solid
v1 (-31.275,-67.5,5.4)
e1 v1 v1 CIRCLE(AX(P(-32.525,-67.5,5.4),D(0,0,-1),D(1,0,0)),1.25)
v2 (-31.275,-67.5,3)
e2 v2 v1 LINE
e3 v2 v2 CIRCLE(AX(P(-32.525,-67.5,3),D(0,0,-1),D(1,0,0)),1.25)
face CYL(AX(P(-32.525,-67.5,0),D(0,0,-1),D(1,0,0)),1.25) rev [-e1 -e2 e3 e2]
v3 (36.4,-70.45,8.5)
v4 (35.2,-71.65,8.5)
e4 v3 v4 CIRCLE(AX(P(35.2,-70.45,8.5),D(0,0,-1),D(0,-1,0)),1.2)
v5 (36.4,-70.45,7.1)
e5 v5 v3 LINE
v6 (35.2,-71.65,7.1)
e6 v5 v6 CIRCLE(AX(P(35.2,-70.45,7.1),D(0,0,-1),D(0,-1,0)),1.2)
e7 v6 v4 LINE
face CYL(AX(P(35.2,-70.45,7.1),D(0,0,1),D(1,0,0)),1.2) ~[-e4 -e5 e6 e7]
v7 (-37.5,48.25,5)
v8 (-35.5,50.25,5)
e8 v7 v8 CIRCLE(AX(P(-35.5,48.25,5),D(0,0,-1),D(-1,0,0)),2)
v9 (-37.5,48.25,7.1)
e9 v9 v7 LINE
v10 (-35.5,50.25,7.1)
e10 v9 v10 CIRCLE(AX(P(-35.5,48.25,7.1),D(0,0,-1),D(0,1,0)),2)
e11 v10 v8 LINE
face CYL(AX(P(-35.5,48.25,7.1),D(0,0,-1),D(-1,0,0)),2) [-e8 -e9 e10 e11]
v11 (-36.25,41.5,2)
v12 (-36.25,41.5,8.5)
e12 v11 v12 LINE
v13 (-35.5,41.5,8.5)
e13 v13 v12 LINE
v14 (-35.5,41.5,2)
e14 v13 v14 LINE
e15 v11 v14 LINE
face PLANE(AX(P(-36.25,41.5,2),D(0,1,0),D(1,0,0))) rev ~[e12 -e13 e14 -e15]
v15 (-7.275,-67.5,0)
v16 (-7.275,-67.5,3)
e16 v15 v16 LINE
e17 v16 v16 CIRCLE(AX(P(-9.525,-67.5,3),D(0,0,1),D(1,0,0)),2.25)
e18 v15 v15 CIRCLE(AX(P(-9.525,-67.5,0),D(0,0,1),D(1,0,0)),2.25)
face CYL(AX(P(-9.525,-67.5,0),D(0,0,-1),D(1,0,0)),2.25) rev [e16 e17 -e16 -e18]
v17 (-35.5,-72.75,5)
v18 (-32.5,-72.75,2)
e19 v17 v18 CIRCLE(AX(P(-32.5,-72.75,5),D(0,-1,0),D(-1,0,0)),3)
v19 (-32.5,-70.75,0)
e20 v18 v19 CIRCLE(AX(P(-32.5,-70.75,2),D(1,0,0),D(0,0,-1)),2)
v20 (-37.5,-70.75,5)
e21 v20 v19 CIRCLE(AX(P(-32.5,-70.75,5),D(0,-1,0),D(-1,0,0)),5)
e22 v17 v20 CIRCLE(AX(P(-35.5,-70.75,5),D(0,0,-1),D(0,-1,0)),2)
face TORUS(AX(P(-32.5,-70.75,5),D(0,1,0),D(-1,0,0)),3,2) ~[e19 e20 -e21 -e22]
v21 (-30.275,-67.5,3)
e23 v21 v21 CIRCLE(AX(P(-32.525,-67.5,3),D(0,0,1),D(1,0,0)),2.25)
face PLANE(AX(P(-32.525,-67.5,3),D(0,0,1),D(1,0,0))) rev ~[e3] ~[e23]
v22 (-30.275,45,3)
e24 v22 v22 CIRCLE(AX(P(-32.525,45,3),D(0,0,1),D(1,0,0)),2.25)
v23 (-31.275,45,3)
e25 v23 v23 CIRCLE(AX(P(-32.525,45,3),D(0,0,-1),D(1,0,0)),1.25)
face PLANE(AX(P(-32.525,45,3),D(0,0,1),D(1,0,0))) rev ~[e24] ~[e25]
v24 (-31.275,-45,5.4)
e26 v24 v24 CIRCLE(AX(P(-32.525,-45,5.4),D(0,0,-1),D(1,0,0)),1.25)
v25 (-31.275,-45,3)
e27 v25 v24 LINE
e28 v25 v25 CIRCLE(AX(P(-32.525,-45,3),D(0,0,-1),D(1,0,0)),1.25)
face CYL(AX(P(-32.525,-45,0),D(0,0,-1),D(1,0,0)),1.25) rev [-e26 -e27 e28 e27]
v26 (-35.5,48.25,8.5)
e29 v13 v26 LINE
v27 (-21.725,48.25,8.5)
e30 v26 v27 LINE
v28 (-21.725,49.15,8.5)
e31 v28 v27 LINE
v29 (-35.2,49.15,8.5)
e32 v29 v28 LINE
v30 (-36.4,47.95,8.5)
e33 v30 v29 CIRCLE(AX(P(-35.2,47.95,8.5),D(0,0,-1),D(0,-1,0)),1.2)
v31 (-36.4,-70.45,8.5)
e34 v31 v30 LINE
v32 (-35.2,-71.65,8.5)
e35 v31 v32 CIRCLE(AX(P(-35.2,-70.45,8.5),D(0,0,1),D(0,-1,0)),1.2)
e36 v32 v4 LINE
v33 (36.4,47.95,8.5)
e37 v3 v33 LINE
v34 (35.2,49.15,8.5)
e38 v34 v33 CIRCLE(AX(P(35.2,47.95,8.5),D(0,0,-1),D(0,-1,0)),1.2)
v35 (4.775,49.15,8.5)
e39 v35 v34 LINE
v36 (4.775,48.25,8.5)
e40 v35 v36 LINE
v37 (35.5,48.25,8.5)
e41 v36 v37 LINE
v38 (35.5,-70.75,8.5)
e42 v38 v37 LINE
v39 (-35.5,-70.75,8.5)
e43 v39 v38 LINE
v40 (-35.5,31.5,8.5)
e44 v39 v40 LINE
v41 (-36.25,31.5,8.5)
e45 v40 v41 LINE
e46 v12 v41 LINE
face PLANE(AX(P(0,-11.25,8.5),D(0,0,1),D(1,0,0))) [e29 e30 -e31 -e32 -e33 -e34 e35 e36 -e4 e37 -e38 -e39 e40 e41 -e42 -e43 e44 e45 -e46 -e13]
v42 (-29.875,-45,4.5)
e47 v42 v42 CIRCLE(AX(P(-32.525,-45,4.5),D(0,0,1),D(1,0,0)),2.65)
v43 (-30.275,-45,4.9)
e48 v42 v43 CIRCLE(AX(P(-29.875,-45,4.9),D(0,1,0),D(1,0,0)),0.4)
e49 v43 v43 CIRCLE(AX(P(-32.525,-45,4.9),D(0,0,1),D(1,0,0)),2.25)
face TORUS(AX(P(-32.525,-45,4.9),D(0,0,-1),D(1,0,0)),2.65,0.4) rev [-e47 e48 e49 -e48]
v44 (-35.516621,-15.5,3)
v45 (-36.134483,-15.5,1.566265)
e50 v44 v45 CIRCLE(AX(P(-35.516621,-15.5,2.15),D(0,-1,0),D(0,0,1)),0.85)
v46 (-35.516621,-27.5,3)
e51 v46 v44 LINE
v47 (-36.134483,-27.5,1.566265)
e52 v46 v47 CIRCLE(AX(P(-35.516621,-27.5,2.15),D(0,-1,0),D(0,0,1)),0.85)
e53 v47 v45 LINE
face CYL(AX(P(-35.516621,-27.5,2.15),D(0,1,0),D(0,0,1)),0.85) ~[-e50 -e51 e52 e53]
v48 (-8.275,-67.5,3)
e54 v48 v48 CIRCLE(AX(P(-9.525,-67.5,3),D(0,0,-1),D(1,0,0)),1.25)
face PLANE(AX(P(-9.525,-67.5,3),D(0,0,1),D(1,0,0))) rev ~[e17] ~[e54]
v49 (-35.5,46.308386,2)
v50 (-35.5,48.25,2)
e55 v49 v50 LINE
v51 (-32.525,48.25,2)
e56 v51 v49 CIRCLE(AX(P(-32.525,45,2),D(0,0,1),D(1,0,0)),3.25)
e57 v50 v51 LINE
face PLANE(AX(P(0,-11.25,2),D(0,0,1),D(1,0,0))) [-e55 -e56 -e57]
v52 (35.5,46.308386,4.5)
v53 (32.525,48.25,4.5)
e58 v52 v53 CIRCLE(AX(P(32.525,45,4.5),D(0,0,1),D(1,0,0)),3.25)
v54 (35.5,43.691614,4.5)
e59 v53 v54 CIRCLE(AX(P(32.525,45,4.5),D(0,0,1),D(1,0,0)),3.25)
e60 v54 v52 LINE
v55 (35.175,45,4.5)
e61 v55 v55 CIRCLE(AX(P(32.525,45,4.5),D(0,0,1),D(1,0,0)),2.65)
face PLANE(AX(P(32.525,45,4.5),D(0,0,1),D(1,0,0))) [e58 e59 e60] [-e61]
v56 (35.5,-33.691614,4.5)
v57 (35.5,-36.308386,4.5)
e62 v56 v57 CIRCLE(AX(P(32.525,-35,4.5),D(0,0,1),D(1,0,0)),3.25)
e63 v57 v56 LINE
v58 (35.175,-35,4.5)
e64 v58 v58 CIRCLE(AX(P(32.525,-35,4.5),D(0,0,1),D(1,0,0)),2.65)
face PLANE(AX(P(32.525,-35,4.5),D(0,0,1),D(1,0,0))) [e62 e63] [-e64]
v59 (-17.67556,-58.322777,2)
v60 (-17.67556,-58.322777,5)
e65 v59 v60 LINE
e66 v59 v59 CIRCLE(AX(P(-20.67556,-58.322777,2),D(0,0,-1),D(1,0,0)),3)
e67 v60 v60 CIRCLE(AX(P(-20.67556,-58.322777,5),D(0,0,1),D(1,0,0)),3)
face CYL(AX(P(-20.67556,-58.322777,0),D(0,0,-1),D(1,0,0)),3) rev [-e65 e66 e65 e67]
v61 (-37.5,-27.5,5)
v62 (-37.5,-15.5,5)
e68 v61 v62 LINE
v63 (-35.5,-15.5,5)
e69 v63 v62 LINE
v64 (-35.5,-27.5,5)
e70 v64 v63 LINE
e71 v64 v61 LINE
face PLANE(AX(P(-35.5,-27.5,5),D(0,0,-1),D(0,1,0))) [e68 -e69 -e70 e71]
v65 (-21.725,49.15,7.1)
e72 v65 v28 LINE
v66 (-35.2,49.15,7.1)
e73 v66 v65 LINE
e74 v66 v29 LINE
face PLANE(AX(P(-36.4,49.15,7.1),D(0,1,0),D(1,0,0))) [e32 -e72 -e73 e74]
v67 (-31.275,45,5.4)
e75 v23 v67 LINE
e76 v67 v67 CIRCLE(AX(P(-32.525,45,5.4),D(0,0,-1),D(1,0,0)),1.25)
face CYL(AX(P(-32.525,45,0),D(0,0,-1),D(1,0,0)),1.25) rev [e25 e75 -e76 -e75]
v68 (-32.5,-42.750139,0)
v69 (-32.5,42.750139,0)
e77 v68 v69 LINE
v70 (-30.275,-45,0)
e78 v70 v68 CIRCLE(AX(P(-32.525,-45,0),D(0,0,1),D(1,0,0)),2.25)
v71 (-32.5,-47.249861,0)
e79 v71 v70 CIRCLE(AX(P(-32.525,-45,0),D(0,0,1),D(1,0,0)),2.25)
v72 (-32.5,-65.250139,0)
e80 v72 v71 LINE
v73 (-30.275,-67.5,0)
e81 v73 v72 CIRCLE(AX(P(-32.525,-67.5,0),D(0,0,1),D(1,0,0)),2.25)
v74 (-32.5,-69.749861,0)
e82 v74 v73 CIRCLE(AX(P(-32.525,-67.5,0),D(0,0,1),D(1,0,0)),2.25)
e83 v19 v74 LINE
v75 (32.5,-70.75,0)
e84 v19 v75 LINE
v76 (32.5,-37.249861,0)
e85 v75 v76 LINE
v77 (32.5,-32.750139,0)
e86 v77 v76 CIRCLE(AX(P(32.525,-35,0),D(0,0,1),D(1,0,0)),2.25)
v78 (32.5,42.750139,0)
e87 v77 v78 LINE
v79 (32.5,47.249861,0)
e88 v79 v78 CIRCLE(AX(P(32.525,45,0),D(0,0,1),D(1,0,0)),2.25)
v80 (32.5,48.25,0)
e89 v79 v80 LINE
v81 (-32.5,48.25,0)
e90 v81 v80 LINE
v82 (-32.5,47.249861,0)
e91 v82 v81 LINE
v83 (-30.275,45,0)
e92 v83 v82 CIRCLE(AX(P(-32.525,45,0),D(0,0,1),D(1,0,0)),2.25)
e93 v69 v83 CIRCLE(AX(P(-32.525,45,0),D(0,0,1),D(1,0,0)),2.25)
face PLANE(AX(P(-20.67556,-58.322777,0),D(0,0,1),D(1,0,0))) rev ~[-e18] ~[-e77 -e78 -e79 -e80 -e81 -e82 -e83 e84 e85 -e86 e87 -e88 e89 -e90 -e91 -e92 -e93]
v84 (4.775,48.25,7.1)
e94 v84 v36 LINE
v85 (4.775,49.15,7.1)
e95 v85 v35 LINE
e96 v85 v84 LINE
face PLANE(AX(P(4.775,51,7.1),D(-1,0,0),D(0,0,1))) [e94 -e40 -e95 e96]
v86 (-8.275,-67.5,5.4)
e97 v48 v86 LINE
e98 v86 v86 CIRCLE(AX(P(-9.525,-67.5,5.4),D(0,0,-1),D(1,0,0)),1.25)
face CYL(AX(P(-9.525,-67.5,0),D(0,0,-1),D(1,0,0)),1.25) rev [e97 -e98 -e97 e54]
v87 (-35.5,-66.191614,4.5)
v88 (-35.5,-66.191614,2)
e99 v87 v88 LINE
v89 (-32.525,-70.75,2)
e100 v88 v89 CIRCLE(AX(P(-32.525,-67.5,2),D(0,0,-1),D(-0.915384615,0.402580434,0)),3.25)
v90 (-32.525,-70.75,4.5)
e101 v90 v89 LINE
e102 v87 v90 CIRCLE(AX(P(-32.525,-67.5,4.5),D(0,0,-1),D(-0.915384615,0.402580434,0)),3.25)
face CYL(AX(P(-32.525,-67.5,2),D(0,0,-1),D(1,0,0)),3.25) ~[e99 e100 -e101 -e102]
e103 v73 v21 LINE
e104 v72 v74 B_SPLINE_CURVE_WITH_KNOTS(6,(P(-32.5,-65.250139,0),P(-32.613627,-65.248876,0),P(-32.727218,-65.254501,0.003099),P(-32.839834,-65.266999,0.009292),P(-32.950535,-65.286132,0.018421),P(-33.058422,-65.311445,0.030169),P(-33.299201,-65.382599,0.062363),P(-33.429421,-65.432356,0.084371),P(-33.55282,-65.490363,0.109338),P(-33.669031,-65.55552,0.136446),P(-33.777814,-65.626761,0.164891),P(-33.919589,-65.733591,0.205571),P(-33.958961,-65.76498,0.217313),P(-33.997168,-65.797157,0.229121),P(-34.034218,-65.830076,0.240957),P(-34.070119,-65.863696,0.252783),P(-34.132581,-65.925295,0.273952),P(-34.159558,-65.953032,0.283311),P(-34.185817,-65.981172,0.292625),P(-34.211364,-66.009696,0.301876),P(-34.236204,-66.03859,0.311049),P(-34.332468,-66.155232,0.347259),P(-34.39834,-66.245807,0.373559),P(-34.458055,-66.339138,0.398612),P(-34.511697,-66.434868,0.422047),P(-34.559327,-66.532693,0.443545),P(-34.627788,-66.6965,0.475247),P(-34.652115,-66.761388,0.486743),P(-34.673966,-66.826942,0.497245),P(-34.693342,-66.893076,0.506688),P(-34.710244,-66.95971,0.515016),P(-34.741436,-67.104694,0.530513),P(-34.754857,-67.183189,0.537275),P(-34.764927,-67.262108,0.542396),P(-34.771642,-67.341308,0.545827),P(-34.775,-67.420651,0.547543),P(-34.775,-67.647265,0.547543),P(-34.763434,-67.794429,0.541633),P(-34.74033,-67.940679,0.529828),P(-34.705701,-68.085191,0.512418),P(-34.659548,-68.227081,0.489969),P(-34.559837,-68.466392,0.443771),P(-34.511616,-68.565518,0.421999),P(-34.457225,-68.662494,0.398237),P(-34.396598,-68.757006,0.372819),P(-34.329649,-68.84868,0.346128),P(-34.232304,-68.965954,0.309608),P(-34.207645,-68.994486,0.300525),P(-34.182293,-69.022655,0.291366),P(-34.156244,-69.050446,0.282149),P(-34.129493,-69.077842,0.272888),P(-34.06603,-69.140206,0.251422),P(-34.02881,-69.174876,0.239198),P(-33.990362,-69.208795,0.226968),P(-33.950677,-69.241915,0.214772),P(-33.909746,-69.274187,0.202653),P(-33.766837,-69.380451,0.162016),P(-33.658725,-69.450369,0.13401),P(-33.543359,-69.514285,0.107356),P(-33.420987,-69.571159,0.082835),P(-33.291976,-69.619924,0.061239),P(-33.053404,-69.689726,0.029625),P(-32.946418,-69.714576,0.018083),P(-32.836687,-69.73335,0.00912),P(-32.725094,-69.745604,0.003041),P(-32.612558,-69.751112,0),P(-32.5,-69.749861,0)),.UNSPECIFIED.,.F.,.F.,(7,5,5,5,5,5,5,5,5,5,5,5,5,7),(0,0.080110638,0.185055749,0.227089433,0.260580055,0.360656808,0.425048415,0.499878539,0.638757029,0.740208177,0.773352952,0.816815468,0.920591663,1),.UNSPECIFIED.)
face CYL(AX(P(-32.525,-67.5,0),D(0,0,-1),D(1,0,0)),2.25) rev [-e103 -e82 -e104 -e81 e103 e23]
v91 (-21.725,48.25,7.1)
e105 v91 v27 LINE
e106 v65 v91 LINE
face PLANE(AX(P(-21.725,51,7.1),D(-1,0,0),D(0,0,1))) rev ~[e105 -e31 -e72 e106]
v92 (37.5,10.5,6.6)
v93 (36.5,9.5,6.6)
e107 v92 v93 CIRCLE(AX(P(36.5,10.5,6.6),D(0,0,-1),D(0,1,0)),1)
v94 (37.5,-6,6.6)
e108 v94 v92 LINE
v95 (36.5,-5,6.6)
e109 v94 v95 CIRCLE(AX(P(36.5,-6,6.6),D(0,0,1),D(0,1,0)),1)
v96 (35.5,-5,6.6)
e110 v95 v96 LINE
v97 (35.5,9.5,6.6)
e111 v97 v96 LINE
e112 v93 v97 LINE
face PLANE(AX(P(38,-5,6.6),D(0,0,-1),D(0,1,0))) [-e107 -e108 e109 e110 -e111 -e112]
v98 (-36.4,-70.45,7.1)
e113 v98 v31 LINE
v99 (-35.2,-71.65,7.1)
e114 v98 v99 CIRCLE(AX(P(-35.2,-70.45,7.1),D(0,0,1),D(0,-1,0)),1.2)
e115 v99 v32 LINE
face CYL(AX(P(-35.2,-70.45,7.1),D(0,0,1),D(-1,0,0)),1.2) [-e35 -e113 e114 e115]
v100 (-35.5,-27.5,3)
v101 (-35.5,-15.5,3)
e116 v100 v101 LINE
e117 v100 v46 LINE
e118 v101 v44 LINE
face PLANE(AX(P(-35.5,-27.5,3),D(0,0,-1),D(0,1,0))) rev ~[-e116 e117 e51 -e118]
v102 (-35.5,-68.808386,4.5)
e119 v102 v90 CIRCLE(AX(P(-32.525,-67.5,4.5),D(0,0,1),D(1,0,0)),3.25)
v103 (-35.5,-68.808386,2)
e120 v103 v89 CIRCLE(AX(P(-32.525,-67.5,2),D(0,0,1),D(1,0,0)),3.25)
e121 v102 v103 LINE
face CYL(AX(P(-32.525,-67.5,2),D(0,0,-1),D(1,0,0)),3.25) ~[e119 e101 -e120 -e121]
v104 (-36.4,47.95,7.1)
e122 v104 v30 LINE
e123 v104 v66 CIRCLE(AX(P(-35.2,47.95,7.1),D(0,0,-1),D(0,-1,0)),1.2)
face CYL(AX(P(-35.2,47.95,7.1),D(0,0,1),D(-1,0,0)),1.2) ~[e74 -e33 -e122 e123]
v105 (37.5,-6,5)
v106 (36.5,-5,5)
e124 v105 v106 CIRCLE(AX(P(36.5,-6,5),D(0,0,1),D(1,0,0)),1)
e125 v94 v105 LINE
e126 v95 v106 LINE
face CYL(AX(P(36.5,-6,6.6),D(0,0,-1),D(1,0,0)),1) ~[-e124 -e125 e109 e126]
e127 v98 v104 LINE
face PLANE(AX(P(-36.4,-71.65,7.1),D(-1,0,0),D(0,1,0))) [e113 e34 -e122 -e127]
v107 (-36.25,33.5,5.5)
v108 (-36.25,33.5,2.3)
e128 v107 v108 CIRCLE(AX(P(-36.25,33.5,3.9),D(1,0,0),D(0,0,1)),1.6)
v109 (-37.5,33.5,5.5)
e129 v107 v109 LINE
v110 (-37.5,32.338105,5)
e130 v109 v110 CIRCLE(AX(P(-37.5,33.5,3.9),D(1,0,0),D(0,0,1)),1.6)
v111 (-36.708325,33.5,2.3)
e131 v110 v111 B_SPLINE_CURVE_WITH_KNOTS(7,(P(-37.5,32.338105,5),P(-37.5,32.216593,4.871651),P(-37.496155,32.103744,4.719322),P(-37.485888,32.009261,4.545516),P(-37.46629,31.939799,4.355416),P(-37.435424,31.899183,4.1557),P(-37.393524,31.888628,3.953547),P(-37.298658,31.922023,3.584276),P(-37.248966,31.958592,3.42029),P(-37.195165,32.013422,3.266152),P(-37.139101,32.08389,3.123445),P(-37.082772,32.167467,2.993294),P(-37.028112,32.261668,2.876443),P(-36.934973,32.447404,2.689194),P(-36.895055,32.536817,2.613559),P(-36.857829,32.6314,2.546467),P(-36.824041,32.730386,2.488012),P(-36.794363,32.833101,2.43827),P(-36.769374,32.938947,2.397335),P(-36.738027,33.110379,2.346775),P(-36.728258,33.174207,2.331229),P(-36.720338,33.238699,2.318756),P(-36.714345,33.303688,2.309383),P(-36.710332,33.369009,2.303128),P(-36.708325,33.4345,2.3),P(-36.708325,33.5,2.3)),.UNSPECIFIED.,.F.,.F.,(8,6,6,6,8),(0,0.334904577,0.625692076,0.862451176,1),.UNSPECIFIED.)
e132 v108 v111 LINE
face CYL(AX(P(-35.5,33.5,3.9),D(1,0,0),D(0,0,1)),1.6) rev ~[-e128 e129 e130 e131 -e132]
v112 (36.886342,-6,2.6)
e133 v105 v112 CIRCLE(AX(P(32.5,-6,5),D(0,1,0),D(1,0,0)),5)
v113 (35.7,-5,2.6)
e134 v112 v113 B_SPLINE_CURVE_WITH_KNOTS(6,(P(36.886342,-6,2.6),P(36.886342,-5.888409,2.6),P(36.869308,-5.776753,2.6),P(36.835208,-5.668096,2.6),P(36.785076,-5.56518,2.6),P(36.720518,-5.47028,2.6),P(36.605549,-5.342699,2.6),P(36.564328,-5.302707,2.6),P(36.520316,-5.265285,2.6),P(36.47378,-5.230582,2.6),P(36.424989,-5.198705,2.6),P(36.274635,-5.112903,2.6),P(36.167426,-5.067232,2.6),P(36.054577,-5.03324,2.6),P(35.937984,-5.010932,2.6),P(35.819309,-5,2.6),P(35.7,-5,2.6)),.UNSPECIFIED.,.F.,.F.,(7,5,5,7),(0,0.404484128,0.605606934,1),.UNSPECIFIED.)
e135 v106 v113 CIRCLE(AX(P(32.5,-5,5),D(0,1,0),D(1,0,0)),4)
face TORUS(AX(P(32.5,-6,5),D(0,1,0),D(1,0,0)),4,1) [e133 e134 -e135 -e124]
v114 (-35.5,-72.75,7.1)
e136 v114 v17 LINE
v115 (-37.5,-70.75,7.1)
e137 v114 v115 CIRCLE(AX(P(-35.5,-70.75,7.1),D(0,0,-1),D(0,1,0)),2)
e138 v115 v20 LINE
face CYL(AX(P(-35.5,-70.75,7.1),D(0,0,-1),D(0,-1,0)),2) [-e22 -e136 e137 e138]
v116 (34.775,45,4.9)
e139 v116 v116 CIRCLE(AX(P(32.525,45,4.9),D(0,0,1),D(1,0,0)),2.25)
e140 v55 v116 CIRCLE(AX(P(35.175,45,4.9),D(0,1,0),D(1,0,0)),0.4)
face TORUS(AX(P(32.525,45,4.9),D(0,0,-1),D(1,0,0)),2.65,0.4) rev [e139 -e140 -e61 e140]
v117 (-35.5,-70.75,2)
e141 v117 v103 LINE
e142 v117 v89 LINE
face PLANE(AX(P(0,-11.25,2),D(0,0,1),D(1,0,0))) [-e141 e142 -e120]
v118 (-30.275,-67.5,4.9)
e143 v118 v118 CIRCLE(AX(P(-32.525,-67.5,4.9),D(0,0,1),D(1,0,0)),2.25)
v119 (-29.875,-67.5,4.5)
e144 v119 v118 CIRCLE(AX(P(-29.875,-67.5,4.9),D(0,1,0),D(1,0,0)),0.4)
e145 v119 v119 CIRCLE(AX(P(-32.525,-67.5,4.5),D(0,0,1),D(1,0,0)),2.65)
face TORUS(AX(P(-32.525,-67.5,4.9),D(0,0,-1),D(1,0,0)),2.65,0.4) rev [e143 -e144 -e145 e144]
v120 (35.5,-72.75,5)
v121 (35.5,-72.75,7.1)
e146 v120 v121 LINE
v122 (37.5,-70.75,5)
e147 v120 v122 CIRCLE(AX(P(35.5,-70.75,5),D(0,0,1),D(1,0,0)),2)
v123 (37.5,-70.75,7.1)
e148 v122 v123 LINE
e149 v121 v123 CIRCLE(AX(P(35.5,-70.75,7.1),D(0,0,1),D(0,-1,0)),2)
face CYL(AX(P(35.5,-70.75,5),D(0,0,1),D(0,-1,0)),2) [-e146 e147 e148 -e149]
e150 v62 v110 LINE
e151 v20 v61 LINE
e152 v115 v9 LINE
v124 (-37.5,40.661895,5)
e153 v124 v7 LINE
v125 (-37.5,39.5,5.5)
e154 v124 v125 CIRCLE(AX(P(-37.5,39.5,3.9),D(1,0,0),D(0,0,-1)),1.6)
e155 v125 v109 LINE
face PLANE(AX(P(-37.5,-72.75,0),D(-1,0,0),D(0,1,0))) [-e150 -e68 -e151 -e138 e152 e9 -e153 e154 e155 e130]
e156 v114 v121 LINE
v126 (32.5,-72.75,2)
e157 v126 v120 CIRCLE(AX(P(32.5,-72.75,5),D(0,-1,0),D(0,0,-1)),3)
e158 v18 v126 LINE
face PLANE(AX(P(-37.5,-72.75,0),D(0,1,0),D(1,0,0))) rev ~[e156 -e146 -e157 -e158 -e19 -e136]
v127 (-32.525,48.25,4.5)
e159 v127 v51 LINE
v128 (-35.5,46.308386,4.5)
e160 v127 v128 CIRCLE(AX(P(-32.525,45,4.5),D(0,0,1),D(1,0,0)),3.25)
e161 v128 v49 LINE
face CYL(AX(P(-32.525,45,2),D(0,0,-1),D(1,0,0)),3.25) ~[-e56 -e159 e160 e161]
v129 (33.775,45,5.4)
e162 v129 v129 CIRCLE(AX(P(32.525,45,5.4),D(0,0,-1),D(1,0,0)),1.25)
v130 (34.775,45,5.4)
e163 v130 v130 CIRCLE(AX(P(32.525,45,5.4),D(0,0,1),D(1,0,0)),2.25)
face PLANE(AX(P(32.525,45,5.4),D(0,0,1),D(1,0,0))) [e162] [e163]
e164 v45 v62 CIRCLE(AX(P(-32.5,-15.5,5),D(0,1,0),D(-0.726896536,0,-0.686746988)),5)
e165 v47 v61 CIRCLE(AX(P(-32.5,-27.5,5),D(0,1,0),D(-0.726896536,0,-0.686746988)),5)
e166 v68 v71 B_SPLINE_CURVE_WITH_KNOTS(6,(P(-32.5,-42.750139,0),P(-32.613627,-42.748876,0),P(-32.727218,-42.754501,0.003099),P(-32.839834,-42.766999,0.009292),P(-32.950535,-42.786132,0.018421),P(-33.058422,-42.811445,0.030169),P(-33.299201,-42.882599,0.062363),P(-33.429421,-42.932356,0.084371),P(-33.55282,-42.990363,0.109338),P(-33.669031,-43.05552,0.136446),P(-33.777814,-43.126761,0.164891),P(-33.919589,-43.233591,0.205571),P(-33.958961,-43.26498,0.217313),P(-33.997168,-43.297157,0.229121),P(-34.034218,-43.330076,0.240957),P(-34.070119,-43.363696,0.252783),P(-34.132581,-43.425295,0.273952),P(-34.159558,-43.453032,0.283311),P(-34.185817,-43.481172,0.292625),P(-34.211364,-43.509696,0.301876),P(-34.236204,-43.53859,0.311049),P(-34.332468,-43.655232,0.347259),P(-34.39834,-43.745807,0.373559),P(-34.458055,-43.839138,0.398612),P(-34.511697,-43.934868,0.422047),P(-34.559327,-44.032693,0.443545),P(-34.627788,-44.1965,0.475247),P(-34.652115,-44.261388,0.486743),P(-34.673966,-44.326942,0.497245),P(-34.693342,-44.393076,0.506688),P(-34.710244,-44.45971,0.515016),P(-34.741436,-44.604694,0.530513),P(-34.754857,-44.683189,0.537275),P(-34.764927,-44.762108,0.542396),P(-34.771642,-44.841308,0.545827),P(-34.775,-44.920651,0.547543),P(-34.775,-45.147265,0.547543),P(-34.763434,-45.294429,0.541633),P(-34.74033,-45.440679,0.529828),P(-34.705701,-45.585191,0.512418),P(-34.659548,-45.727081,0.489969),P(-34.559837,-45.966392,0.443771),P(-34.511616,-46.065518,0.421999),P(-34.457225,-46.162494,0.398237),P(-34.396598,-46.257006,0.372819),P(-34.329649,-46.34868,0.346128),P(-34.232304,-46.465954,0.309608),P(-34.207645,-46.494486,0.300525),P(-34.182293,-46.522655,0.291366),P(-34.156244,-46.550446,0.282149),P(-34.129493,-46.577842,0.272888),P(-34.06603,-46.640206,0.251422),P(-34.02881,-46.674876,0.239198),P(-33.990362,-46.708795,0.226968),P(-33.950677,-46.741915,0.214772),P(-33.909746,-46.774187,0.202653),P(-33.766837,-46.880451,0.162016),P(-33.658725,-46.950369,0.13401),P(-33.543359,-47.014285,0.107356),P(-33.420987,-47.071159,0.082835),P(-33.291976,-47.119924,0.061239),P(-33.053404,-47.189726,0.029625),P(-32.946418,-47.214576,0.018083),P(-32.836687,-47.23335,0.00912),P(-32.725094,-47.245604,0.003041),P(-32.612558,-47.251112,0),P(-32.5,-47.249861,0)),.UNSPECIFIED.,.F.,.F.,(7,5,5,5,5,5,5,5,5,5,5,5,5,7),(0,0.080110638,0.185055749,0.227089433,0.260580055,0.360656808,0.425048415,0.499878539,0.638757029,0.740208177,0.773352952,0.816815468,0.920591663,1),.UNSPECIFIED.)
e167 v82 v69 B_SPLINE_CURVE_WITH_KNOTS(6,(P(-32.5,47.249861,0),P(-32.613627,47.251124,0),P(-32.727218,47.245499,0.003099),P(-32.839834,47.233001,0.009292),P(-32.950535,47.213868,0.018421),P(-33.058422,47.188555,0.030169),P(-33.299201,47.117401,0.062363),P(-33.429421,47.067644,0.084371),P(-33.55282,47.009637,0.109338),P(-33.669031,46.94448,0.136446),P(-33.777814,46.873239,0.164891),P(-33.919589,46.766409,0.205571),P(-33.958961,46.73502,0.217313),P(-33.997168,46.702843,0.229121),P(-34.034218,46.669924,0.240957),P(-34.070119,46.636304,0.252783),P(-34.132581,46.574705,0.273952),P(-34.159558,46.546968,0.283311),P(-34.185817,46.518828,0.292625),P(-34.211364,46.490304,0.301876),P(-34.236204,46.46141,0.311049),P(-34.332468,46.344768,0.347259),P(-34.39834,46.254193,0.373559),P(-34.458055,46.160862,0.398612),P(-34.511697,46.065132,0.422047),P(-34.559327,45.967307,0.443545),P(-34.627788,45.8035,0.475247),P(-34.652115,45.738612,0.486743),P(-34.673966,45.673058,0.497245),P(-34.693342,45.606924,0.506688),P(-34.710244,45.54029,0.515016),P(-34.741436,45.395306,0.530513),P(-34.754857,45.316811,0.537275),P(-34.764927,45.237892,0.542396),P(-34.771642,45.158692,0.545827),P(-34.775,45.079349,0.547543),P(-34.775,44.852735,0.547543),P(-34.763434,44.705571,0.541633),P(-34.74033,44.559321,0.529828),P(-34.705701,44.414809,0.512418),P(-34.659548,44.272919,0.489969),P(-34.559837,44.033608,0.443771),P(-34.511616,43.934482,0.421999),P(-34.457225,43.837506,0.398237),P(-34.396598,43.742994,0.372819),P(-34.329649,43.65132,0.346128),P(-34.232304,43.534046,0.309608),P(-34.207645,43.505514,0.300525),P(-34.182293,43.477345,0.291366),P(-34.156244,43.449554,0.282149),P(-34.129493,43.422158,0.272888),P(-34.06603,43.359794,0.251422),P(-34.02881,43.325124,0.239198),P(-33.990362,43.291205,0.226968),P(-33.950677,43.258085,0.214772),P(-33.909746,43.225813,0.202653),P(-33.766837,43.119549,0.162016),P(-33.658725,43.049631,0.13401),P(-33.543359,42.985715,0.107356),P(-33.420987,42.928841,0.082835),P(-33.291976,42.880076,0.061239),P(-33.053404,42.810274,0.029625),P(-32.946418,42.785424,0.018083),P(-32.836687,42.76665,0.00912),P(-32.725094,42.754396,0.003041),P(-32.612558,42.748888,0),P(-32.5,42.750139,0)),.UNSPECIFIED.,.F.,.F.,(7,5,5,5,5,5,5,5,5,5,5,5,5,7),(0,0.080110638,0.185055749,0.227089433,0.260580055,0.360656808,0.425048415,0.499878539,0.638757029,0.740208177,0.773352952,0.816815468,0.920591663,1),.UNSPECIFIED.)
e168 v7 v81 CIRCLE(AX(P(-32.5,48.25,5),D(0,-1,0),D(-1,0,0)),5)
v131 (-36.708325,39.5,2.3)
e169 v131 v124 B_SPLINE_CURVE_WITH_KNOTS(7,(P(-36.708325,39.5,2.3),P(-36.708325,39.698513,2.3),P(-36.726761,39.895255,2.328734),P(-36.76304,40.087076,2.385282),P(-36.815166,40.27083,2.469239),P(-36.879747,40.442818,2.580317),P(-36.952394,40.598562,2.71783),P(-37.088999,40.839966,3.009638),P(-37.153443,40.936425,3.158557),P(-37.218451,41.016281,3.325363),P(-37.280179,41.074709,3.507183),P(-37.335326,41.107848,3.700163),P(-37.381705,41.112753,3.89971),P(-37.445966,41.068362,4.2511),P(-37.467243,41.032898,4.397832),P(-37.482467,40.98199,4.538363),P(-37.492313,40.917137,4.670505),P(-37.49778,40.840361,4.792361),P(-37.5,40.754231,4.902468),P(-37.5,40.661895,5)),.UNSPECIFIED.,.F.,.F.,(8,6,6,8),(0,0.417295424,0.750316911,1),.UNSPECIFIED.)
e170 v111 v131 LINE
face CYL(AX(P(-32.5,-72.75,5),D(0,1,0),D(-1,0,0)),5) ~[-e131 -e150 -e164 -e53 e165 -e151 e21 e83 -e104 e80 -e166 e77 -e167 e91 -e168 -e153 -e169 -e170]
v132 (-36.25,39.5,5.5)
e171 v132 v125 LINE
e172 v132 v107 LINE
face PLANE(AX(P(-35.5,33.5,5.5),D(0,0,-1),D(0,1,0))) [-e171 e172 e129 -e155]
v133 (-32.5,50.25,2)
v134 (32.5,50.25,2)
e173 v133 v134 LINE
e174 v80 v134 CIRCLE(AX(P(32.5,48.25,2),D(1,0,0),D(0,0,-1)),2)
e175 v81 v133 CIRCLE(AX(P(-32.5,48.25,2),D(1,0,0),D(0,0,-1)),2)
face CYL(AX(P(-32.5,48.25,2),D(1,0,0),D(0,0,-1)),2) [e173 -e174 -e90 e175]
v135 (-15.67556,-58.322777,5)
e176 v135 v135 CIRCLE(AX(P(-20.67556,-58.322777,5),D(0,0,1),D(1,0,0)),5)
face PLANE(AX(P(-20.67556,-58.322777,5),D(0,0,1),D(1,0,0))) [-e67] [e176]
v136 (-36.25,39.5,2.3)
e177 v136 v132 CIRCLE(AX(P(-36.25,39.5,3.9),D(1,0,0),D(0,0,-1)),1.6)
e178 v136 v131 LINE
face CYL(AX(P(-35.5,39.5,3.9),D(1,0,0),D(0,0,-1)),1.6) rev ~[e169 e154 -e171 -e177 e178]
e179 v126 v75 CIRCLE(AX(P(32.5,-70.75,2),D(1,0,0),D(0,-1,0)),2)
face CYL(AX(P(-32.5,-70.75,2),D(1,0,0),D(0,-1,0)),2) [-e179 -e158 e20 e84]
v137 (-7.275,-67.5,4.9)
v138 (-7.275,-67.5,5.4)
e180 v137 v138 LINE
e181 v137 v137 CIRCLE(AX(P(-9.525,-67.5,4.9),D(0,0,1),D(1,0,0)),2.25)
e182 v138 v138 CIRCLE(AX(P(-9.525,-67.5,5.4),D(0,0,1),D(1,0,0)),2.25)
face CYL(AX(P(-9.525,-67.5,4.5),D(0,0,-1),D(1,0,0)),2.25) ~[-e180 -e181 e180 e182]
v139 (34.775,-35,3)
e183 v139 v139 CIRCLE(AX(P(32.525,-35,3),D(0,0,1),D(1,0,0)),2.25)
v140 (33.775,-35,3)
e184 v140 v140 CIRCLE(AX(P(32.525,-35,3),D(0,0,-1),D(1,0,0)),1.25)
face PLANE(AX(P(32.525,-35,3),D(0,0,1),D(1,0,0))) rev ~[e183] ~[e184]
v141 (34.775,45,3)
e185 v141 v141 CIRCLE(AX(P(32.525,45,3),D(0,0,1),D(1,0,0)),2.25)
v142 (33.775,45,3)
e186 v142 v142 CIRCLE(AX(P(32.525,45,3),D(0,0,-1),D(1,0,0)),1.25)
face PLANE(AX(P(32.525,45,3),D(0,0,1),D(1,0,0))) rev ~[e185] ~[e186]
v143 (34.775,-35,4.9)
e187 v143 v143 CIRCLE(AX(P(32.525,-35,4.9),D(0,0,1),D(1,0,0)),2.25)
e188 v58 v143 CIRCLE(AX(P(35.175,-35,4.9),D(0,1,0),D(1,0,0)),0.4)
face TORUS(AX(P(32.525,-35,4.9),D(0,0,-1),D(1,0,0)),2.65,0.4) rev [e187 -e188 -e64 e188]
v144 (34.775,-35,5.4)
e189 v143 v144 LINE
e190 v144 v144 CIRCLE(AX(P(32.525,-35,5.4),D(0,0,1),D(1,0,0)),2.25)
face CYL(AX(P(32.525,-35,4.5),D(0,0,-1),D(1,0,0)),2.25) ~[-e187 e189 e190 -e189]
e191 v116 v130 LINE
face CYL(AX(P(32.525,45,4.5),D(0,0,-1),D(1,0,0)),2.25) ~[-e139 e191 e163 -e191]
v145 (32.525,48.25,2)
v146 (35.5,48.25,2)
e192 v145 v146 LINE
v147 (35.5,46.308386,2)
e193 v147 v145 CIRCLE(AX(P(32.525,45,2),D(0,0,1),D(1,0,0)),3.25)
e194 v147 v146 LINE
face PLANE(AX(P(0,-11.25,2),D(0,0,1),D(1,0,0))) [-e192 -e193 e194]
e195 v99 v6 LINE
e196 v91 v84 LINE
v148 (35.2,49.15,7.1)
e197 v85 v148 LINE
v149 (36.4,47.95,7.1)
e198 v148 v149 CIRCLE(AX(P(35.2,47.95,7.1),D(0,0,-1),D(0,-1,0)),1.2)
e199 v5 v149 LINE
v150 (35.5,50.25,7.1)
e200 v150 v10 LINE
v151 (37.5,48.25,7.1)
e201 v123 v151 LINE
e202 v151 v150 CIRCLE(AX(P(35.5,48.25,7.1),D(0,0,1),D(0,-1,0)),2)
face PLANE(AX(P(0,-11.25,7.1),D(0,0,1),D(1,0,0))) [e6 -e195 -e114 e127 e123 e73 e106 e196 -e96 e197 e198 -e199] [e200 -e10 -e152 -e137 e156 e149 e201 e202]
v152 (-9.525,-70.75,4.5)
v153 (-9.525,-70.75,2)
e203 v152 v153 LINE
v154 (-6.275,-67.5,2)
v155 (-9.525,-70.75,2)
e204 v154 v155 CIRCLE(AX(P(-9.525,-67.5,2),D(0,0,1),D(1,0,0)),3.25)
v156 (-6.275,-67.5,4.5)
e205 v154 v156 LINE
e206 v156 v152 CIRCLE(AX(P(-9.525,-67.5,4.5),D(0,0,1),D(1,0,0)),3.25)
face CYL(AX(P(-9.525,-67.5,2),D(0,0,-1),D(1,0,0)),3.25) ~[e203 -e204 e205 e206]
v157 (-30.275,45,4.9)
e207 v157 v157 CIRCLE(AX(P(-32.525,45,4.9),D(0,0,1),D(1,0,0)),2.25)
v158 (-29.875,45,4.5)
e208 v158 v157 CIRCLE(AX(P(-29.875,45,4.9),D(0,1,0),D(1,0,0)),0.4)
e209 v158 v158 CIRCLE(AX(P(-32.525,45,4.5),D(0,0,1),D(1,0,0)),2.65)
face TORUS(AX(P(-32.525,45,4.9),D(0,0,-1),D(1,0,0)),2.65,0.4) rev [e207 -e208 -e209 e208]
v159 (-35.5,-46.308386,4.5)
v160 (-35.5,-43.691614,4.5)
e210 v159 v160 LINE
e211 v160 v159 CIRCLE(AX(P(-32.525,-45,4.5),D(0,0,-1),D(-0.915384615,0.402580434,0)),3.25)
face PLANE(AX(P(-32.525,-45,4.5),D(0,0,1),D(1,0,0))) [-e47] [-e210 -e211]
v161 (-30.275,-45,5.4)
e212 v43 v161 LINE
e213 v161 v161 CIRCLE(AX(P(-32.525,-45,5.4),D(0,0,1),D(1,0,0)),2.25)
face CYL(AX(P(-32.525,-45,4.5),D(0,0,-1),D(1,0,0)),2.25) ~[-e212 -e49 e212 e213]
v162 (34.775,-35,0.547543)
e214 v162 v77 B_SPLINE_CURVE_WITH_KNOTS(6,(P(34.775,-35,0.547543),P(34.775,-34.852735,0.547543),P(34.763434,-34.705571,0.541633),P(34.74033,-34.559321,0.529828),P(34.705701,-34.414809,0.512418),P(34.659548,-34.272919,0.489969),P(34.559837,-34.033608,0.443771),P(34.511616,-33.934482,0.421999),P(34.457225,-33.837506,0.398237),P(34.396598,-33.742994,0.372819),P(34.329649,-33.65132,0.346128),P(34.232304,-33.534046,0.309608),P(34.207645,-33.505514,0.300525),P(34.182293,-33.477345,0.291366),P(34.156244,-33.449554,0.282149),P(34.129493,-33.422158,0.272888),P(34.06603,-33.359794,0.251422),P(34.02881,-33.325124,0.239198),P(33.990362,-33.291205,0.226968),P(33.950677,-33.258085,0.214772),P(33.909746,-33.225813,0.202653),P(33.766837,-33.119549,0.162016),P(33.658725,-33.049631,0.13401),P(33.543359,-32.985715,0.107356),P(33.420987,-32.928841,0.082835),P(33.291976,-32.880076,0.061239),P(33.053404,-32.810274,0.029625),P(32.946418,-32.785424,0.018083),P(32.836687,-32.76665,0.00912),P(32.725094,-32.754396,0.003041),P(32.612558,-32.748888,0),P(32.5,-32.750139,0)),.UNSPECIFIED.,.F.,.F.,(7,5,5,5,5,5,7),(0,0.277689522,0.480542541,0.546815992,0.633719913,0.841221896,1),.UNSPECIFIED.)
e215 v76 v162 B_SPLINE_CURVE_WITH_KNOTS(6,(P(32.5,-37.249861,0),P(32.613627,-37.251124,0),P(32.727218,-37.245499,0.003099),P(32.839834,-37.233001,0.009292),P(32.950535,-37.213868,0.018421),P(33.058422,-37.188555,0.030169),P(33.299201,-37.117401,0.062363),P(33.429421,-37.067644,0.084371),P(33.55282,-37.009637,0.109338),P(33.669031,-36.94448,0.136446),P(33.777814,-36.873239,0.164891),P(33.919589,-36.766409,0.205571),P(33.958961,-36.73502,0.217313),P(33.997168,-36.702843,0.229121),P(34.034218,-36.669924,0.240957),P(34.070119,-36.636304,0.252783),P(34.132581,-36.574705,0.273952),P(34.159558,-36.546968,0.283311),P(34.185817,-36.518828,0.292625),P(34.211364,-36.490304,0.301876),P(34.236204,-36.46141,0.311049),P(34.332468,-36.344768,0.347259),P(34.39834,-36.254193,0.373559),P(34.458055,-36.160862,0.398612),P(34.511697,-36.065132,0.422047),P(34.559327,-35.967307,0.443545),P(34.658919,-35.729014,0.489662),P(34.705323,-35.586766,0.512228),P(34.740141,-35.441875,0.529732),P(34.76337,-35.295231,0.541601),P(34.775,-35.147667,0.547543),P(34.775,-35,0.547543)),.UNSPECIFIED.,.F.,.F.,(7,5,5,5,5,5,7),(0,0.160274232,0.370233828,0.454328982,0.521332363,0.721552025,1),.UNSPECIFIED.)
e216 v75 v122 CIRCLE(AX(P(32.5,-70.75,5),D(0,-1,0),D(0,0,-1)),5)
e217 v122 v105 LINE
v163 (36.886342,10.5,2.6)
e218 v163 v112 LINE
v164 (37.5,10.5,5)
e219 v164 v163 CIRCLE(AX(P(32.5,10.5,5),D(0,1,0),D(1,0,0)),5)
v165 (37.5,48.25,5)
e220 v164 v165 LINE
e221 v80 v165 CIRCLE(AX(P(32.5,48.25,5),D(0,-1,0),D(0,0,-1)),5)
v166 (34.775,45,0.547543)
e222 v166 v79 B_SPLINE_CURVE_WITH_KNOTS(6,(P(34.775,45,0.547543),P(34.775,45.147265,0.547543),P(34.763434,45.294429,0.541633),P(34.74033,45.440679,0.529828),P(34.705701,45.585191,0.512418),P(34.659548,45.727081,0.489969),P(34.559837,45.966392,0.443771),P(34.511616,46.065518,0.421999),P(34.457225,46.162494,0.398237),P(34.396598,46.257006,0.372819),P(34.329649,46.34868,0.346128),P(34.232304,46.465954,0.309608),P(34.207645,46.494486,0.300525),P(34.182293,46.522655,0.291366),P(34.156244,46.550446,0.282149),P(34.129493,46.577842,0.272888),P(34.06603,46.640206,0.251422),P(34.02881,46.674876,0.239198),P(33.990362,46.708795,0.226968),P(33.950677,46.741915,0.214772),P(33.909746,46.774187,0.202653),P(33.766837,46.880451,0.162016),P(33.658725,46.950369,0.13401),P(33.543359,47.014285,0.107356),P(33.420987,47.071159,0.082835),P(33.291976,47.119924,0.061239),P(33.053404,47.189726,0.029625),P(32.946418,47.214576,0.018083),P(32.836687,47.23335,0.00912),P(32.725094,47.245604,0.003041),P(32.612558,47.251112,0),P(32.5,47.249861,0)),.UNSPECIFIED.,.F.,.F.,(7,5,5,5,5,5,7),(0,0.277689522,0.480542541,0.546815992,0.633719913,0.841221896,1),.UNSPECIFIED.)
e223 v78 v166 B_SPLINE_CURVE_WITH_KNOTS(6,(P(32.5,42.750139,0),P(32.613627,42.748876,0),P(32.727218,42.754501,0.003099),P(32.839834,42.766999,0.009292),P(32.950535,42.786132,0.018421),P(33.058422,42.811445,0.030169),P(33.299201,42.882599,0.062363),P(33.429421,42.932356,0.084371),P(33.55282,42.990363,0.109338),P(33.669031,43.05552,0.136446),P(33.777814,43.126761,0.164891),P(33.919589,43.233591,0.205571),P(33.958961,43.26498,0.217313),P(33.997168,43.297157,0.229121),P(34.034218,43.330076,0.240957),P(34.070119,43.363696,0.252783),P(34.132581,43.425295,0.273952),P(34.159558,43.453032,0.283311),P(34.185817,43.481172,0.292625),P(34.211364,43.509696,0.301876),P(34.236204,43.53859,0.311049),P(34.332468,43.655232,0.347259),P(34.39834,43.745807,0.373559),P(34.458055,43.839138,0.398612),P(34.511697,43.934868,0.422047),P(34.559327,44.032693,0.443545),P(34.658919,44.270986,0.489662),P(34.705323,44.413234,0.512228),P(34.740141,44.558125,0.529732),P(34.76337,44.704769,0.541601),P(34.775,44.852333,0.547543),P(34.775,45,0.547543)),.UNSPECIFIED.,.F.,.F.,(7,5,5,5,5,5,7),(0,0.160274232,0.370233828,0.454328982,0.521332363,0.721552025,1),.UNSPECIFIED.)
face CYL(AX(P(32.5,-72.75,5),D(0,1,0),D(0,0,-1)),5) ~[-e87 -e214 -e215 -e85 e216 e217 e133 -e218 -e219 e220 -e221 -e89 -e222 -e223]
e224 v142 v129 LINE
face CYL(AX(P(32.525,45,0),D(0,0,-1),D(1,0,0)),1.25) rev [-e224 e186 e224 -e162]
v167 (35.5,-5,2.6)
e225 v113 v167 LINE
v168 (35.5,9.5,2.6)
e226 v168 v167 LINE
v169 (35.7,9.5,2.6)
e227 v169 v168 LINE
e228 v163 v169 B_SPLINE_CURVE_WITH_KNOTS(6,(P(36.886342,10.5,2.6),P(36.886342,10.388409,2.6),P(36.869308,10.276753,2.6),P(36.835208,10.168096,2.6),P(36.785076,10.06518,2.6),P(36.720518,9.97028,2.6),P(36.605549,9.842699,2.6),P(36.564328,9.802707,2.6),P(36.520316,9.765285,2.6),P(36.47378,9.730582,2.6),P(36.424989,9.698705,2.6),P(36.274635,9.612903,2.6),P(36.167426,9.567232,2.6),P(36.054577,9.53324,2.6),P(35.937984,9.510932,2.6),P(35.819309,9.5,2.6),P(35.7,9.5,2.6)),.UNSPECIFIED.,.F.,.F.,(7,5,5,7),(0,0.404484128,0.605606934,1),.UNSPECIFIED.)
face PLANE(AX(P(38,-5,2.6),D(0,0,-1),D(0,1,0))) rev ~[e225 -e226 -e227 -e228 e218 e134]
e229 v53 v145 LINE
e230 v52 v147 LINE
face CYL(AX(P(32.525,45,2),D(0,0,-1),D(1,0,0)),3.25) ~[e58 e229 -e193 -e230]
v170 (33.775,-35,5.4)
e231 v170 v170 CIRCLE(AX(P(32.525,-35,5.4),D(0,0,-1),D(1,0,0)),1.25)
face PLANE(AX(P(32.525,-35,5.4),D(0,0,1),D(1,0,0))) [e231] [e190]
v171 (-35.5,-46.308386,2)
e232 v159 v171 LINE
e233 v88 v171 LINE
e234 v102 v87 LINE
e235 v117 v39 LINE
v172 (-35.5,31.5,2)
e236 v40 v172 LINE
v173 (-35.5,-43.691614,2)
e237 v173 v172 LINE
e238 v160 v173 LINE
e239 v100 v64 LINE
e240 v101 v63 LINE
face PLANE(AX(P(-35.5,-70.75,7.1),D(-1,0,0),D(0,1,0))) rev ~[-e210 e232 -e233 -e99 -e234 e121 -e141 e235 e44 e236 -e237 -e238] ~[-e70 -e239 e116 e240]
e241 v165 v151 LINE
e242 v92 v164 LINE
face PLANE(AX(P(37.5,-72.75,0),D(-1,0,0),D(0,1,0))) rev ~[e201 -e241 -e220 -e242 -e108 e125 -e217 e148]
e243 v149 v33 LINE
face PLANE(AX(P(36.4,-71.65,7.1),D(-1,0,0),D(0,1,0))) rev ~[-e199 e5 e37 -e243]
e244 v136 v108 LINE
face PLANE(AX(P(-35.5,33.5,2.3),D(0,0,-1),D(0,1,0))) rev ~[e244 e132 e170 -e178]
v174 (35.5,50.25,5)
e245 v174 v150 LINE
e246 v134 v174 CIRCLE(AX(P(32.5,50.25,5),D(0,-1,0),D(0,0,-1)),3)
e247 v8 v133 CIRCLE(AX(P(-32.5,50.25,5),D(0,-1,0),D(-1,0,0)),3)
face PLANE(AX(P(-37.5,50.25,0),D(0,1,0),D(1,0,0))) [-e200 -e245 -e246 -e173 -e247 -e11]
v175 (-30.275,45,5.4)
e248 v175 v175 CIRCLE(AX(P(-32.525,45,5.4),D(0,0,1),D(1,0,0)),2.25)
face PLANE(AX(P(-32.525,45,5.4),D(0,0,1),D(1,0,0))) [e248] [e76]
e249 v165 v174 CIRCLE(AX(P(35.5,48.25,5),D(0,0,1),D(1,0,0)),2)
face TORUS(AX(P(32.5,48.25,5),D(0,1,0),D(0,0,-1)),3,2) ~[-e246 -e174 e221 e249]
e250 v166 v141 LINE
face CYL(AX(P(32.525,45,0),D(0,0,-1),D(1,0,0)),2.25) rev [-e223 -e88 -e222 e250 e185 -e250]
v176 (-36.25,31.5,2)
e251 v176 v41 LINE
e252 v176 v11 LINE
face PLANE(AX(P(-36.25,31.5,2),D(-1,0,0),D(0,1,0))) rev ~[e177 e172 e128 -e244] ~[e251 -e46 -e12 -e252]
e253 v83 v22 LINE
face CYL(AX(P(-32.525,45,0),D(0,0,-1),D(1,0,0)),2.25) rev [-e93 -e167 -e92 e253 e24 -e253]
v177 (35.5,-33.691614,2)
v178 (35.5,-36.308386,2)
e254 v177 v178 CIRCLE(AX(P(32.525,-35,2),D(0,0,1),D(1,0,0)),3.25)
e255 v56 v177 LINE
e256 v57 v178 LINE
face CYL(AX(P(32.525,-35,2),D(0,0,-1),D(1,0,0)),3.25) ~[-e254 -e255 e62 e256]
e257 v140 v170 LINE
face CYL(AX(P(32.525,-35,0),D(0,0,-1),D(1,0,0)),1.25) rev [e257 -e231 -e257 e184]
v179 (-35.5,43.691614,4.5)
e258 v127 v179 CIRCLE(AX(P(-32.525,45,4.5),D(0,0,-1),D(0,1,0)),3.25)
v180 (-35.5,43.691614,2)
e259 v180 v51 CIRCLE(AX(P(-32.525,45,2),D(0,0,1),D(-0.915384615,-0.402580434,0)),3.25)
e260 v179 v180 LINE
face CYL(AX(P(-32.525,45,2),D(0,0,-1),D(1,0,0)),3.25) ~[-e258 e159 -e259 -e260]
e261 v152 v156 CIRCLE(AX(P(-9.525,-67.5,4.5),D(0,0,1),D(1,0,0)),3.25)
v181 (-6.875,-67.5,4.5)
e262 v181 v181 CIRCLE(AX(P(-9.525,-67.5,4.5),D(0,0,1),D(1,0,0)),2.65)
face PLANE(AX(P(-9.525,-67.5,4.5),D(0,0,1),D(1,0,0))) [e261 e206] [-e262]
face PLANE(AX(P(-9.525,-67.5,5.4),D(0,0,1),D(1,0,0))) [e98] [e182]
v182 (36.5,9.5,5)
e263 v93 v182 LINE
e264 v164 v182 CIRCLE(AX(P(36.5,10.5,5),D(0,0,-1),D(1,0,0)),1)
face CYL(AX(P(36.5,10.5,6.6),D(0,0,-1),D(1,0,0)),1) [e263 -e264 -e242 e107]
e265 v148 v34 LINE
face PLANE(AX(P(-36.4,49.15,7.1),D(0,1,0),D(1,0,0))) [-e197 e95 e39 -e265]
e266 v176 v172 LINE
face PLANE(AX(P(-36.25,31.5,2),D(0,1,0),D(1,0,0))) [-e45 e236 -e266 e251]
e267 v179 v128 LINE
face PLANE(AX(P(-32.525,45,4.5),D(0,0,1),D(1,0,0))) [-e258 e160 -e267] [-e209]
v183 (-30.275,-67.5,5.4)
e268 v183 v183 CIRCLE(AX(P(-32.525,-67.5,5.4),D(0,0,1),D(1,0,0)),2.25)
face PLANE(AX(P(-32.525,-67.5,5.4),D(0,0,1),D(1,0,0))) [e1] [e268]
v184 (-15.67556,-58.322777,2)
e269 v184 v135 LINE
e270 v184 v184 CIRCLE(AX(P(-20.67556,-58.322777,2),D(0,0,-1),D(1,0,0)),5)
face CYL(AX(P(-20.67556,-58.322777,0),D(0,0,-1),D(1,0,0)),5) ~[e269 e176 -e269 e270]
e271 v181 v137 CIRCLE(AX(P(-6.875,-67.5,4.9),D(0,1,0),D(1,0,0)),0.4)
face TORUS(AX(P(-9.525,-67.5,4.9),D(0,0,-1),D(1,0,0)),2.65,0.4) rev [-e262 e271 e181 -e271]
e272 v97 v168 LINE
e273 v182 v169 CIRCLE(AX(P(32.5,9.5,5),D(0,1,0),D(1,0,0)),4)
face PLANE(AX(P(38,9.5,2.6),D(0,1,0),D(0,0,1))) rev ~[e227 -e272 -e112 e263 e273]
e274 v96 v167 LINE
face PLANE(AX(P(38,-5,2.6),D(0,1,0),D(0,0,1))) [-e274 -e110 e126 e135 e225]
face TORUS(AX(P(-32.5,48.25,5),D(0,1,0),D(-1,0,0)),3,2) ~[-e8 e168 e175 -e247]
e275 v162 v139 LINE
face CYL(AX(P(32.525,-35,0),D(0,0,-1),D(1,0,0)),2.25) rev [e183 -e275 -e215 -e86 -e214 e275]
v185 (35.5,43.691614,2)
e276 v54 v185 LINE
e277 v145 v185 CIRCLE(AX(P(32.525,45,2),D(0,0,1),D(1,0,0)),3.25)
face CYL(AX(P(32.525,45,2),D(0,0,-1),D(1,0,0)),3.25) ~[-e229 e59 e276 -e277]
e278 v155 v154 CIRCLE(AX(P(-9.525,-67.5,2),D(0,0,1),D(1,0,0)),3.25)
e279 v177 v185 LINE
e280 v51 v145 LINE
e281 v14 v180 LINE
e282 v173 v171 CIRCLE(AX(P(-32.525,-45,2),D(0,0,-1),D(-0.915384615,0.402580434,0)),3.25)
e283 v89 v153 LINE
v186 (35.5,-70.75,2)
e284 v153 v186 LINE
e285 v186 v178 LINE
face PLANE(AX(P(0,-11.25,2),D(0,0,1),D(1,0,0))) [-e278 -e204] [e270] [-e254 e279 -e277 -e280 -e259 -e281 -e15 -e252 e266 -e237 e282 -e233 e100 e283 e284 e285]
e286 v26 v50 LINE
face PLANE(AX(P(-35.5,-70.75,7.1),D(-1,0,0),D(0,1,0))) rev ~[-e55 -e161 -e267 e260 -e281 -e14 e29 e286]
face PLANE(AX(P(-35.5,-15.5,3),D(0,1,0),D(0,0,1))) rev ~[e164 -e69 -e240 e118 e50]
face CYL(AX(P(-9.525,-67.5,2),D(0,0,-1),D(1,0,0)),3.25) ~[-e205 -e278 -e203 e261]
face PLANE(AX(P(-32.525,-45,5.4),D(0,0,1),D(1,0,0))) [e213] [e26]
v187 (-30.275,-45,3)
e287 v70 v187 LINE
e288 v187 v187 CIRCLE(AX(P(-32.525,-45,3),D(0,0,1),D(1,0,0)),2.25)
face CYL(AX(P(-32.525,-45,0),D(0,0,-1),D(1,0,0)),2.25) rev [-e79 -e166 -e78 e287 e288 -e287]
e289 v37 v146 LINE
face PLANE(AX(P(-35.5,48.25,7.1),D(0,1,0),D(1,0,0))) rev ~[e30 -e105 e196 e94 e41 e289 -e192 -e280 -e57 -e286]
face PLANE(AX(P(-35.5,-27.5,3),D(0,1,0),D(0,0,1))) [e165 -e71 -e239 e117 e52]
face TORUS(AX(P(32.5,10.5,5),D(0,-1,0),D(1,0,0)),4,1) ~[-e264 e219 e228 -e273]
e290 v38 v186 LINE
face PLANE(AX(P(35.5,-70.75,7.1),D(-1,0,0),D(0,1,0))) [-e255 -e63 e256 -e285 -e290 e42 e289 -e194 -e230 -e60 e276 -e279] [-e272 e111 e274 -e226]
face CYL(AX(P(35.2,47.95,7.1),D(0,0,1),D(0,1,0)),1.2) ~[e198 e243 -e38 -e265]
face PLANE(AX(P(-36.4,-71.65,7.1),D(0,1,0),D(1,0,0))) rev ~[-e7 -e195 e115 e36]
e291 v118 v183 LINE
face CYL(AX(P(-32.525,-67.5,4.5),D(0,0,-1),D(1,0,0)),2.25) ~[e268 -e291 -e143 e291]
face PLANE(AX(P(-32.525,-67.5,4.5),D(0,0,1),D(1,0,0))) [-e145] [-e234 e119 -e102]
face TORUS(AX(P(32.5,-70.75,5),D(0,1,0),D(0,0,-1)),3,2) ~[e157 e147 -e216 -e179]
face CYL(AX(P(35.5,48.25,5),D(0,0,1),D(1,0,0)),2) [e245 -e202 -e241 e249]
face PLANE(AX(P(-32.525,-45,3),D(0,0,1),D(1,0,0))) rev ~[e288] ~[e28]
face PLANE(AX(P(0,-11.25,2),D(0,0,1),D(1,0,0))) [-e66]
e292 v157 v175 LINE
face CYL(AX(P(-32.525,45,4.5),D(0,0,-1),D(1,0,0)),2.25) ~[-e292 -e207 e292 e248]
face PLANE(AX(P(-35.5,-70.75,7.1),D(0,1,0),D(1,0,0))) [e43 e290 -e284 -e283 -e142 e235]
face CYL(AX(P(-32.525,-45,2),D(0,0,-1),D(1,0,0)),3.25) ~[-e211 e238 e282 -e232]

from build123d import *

# Parameters (mm, degrees)
SKETCH043_W     = 71
SKETCH043_H     = 119
PAD023_DEPTH    = 2
SKETCH044_W     = 75
SKETCH044_H     = 123
SKETCH044_W_2   = 71
SKETCH044_H_2   = 119
PAD024_DEPTH    = 7.1
FILLET010_R     = 5
SKETCH045_W     = 72.8
SKETCH045_H     = 120.8
SKETCH045_W_2   = 71
SKETCH045_H_2   = 119
PAD025_DEPTH    = 1.4
SKETCH052_W     = 14.5
SKETCH052_H     = 4
POCKET019_DEPTH = 5
SKETCH053_W     = 1.5
SKETCH053_H     = 10
POCKET020_DEPTH = 10
POCKET021_DEPTH = 5
SKETCH051_W     = 12
SKETCH051_H     = 2
POCKET022_DEPTH = 5
SKETCH055_W     = 26.5
SKETCH055_H     = 2.8
POCKET024_DEPTH = 5
FILLET014_R     = 2
SKETCH056_R     = 3.25
PAD026_DEPTH    = 2.5
SKETCH048_R     = 2.25
PAD027_DEPTH    = 0.9
SKETCH057_R     = 1.25
POCKET025_DEPTH = 5.5
FILLET018_R     = 1.2
FILLET019_R     = 0.85
SKETCH047_R     = 2.25
POCKET026_DEPTH = 3
FILLET020_R     = 0.4
SKETCH_R        = 5
SKETCH_R_2      = 3
PAD_DEPTH       = 5
FILLET_R        = 1


with BuildPart() as part:
    # Sketch043 → Pad023 (new body)
    with BuildSketch(Plane.XY):
        with Locations((0, -11.25)):
            Rectangle(SKETCH043_W, SKETCH043_H)
    extrude(amount=PAD023_DEPTH)

    # Sketch044 → Pad024 (join)
    with BuildSketch(Plane.XY):
        with Locations((0, -11.25)):
            Rectangle(SKETCH044_W, SKETCH044_H)
        with Locations((0, -11.25)):
            Rectangle(SKETCH044_W_2, SKETCH044_H_2, mode=Mode.SUBTRACT)
    extrude(amount=PAD024_DEPTH)

    # Fillet010
    fillet010_edges = [part.edges().sort_by_distance(p)[0] for p in [
        (37.5, -11.25, 0),
        (-37.5, -11.25, 0),
    ]]
    fillet(fillet010_edges, radius=FILLET010_R)

    # Sketch045 → Pad025 (join)
    with BuildSketch(Plane.XY.offset(7.1)):
        with Locations((0, -11.25)):
            Rectangle(SKETCH045_W, SKETCH045_H)
        with Locations((0, -11.25)):
            Rectangle(SKETCH045_W_2, SKETCH045_H_2, mode=Mode.SUBTRACT)
    extrude(amount=PAD025_DEPTH)

    # Sketch052 → Pocket019 (cut)
    with BuildSketch(Plane.YZ.offset(38)):
        with Locations((2.25, 4.6)):
            Rectangle(SKETCH052_W, SKETCH052_H)
    extrude(amount=-POCKET019_DEPTH, mode=Mode.SUBTRACT)

    # Sketch053 → Pocket020 (cut)
    with BuildSketch(Plane.XY.offset(2)):
        with Locations((-35.5, 36.5)):
            Rectangle(SKETCH053_W, SKETCH053_H)
    extrude(amount=POCKET020_DEPTH, mode=Mode.SUBTRACT)

    # Sketch050 → Pocket021 (cut)
    with BuildSketch(Plane.YZ.offset(-35.5)):
        with BuildLine():
            ThreePointArc((33.5, 5.5), (31.9, 3.9), (33.5, 2.3))
            Line((33.5, 2.3), (39.5, 2.3))
            ThreePointArc((39.5, 2.3), (41.1, 3.9), (39.5, 5.5))
            Line((33.5, 5.5), (39.5, 5.5))
        make_face()
    extrude(amount=-POCKET021_DEPTH, mode=Mode.SUBTRACT)

    # Sketch051 → Pocket022 (cut)
    with BuildSketch(Plane.YZ.offset(-35.5)):
        with Locations((-21.5, 4)):
            Rectangle(SKETCH051_W, SKETCH051_H)
    extrude(amount=-POCKET022_DEPTH, mode=Mode.SUBTRACT)

    # Sketch055 → Pocket024 (cut)
    with BuildSketch(Plane.XZ.offset(-51)):
        with Locations((-8.475, 8.5)):
            Rectangle(SKETCH055_W, SKETCH055_H)
    extrude(amount=POCKET024_DEPTH, mode=Mode.SUBTRACT)

    # Fillet014
    fillet014_edges = [part.edges().sort_by_distance(p)[0] for p in [
        (0, -72.75, 0),
        (0, 50.25, 0),
    ]]
    fillet(fillet014_edges, radius=FILLET014_R)

    # Sketch056 → Pad026 (join)
    with BuildSketch(Plane.XY.offset(2)):
        with Locations((-32.525, 45)):
            Circle(SKETCH056_R)
        with Locations((32.525, 45)):
            Circle(SKETCH056_R)
        with Locations((32.525, -35)):
            Circle(SKETCH056_R)
        with Locations((-9.525, -67.5)):
            Circle(SKETCH056_R)
        with Locations((-32.525, -67.5)):
            Circle(SKETCH056_R)
        with Locations((-32.525, -45)):
            Circle(SKETCH056_R)
    extrude(amount=PAD026_DEPTH)

    # Sketch048 → Pad027 (join)
    with BuildSketch(Plane.XY.offset(4.5)):
        with Locations((-32.525, 45)):
            Circle(SKETCH048_R)
        with Locations((32.525, 45)):
            Circle(SKETCH048_R)
        with Locations((32.525, -35)):
            Circle(SKETCH048_R)
        with Locations((-9.525, -67.5)):
            Circle(SKETCH048_R)
        with Locations((-32.525, -67.5)):
            Circle(SKETCH048_R)
        with Locations((-32.525, -45)):
            Circle(SKETCH048_R)
    extrude(amount=PAD027_DEPTH)

    # Sketch057 → Pocket025 (cut)
    with BuildSketch(Plane.XY):
        with Locations((-32.525, 45)):
            Circle(SKETCH057_R)
        with Locations((32.525, 45)):
            Circle(SKETCH057_R)
        with Locations((-32.525, -45)):
            Circle(SKETCH057_R)
        with Locations((-32.525, -67.5)):
            Circle(SKETCH057_R)
        with Locations((-9.525, -67.5)):
            Circle(SKETCH057_R)
        with Locations((32.525, -35)):
            Circle(SKETCH057_R)
    extrude(amount=POCKET025_DEPTH, mode=Mode.SUBTRACT)

    # Fillet018
    fillet018_edges = [part.edges().sort_by_distance(p)[0] for p in [
        (-36.4, -71.65, 7.8),
        (36.4, -71.65, 7.8),
        (-36.4, 49.15, 7.8),
        (36.4, 49.15, 7.8),
    ]]
    fillet(fillet018_edges, radius=FILLET018_R)

    # Fillet019
    fillet019_edges = [part.edges().sort_by_distance(p)[0] for p in [
        (-37.082576, -21.5, 3),
    ]]
    fillet(fillet019_edges, radius=FILLET019_R)

    # Sketch047 → Pocket026 (cut)
    with BuildSketch(Plane.XY):
        with Locations((-32.525, 45)):
            Circle(SKETCH047_R)
        with Locations((32.525, 45)):
            Circle(SKETCH047_R)
        with Locations((32.525, -35)):
            Circle(SKETCH047_R)
        with Locations((-9.525, -67.5)):
            Circle(SKETCH047_R)
        with Locations((-32.525, -67.5)):
            Circle(SKETCH047_R)
        with Locations((-32.525, -45)):
            Circle(SKETCH047_R)
    extrude(amount=POCKET026_DEPTH, mode=Mode.SUBTRACT)

    # Fillet020
    fillet020_edges = [part.edges().sort_by_distance(p)[0] for p in [
        (-11.775, -67.5, 4.5),
        (-34.775, -67.5, 4.5),
        (-34.775, -45, 4.5),
        (30.275, -35, 4.5),
        (30.275, 45, 4.5),
        (-34.775, 45, 4.5),
    ]]
    fillet(fillet020_edges, radius=FILLET020_R)

    # Sketch → Pad (join)
    with BuildSketch(Plane.XY):
        with Locations((-20.67556, -58.322777)):
            Circle(SKETCH_R)
        with Locations((-20.67556, -58.322777)):
            Circle(SKETCH_R_2, mode=Mode.SUBTRACT)
    extrude(amount=PAD_DEPTH)

    # Fillet
    fillet_edges = [part.edges().sort_by_distance(p)[0] for p in [
        (37.5, -5, 5.8),
        (37.344157, -5, 3.761394),
        (37.5, 9.5, 5.8),
        (37.344157, 9.5, 3.761394),
    ]]
    fillet(fillet_edges, radius=FILLET_R)


solid = part.part
